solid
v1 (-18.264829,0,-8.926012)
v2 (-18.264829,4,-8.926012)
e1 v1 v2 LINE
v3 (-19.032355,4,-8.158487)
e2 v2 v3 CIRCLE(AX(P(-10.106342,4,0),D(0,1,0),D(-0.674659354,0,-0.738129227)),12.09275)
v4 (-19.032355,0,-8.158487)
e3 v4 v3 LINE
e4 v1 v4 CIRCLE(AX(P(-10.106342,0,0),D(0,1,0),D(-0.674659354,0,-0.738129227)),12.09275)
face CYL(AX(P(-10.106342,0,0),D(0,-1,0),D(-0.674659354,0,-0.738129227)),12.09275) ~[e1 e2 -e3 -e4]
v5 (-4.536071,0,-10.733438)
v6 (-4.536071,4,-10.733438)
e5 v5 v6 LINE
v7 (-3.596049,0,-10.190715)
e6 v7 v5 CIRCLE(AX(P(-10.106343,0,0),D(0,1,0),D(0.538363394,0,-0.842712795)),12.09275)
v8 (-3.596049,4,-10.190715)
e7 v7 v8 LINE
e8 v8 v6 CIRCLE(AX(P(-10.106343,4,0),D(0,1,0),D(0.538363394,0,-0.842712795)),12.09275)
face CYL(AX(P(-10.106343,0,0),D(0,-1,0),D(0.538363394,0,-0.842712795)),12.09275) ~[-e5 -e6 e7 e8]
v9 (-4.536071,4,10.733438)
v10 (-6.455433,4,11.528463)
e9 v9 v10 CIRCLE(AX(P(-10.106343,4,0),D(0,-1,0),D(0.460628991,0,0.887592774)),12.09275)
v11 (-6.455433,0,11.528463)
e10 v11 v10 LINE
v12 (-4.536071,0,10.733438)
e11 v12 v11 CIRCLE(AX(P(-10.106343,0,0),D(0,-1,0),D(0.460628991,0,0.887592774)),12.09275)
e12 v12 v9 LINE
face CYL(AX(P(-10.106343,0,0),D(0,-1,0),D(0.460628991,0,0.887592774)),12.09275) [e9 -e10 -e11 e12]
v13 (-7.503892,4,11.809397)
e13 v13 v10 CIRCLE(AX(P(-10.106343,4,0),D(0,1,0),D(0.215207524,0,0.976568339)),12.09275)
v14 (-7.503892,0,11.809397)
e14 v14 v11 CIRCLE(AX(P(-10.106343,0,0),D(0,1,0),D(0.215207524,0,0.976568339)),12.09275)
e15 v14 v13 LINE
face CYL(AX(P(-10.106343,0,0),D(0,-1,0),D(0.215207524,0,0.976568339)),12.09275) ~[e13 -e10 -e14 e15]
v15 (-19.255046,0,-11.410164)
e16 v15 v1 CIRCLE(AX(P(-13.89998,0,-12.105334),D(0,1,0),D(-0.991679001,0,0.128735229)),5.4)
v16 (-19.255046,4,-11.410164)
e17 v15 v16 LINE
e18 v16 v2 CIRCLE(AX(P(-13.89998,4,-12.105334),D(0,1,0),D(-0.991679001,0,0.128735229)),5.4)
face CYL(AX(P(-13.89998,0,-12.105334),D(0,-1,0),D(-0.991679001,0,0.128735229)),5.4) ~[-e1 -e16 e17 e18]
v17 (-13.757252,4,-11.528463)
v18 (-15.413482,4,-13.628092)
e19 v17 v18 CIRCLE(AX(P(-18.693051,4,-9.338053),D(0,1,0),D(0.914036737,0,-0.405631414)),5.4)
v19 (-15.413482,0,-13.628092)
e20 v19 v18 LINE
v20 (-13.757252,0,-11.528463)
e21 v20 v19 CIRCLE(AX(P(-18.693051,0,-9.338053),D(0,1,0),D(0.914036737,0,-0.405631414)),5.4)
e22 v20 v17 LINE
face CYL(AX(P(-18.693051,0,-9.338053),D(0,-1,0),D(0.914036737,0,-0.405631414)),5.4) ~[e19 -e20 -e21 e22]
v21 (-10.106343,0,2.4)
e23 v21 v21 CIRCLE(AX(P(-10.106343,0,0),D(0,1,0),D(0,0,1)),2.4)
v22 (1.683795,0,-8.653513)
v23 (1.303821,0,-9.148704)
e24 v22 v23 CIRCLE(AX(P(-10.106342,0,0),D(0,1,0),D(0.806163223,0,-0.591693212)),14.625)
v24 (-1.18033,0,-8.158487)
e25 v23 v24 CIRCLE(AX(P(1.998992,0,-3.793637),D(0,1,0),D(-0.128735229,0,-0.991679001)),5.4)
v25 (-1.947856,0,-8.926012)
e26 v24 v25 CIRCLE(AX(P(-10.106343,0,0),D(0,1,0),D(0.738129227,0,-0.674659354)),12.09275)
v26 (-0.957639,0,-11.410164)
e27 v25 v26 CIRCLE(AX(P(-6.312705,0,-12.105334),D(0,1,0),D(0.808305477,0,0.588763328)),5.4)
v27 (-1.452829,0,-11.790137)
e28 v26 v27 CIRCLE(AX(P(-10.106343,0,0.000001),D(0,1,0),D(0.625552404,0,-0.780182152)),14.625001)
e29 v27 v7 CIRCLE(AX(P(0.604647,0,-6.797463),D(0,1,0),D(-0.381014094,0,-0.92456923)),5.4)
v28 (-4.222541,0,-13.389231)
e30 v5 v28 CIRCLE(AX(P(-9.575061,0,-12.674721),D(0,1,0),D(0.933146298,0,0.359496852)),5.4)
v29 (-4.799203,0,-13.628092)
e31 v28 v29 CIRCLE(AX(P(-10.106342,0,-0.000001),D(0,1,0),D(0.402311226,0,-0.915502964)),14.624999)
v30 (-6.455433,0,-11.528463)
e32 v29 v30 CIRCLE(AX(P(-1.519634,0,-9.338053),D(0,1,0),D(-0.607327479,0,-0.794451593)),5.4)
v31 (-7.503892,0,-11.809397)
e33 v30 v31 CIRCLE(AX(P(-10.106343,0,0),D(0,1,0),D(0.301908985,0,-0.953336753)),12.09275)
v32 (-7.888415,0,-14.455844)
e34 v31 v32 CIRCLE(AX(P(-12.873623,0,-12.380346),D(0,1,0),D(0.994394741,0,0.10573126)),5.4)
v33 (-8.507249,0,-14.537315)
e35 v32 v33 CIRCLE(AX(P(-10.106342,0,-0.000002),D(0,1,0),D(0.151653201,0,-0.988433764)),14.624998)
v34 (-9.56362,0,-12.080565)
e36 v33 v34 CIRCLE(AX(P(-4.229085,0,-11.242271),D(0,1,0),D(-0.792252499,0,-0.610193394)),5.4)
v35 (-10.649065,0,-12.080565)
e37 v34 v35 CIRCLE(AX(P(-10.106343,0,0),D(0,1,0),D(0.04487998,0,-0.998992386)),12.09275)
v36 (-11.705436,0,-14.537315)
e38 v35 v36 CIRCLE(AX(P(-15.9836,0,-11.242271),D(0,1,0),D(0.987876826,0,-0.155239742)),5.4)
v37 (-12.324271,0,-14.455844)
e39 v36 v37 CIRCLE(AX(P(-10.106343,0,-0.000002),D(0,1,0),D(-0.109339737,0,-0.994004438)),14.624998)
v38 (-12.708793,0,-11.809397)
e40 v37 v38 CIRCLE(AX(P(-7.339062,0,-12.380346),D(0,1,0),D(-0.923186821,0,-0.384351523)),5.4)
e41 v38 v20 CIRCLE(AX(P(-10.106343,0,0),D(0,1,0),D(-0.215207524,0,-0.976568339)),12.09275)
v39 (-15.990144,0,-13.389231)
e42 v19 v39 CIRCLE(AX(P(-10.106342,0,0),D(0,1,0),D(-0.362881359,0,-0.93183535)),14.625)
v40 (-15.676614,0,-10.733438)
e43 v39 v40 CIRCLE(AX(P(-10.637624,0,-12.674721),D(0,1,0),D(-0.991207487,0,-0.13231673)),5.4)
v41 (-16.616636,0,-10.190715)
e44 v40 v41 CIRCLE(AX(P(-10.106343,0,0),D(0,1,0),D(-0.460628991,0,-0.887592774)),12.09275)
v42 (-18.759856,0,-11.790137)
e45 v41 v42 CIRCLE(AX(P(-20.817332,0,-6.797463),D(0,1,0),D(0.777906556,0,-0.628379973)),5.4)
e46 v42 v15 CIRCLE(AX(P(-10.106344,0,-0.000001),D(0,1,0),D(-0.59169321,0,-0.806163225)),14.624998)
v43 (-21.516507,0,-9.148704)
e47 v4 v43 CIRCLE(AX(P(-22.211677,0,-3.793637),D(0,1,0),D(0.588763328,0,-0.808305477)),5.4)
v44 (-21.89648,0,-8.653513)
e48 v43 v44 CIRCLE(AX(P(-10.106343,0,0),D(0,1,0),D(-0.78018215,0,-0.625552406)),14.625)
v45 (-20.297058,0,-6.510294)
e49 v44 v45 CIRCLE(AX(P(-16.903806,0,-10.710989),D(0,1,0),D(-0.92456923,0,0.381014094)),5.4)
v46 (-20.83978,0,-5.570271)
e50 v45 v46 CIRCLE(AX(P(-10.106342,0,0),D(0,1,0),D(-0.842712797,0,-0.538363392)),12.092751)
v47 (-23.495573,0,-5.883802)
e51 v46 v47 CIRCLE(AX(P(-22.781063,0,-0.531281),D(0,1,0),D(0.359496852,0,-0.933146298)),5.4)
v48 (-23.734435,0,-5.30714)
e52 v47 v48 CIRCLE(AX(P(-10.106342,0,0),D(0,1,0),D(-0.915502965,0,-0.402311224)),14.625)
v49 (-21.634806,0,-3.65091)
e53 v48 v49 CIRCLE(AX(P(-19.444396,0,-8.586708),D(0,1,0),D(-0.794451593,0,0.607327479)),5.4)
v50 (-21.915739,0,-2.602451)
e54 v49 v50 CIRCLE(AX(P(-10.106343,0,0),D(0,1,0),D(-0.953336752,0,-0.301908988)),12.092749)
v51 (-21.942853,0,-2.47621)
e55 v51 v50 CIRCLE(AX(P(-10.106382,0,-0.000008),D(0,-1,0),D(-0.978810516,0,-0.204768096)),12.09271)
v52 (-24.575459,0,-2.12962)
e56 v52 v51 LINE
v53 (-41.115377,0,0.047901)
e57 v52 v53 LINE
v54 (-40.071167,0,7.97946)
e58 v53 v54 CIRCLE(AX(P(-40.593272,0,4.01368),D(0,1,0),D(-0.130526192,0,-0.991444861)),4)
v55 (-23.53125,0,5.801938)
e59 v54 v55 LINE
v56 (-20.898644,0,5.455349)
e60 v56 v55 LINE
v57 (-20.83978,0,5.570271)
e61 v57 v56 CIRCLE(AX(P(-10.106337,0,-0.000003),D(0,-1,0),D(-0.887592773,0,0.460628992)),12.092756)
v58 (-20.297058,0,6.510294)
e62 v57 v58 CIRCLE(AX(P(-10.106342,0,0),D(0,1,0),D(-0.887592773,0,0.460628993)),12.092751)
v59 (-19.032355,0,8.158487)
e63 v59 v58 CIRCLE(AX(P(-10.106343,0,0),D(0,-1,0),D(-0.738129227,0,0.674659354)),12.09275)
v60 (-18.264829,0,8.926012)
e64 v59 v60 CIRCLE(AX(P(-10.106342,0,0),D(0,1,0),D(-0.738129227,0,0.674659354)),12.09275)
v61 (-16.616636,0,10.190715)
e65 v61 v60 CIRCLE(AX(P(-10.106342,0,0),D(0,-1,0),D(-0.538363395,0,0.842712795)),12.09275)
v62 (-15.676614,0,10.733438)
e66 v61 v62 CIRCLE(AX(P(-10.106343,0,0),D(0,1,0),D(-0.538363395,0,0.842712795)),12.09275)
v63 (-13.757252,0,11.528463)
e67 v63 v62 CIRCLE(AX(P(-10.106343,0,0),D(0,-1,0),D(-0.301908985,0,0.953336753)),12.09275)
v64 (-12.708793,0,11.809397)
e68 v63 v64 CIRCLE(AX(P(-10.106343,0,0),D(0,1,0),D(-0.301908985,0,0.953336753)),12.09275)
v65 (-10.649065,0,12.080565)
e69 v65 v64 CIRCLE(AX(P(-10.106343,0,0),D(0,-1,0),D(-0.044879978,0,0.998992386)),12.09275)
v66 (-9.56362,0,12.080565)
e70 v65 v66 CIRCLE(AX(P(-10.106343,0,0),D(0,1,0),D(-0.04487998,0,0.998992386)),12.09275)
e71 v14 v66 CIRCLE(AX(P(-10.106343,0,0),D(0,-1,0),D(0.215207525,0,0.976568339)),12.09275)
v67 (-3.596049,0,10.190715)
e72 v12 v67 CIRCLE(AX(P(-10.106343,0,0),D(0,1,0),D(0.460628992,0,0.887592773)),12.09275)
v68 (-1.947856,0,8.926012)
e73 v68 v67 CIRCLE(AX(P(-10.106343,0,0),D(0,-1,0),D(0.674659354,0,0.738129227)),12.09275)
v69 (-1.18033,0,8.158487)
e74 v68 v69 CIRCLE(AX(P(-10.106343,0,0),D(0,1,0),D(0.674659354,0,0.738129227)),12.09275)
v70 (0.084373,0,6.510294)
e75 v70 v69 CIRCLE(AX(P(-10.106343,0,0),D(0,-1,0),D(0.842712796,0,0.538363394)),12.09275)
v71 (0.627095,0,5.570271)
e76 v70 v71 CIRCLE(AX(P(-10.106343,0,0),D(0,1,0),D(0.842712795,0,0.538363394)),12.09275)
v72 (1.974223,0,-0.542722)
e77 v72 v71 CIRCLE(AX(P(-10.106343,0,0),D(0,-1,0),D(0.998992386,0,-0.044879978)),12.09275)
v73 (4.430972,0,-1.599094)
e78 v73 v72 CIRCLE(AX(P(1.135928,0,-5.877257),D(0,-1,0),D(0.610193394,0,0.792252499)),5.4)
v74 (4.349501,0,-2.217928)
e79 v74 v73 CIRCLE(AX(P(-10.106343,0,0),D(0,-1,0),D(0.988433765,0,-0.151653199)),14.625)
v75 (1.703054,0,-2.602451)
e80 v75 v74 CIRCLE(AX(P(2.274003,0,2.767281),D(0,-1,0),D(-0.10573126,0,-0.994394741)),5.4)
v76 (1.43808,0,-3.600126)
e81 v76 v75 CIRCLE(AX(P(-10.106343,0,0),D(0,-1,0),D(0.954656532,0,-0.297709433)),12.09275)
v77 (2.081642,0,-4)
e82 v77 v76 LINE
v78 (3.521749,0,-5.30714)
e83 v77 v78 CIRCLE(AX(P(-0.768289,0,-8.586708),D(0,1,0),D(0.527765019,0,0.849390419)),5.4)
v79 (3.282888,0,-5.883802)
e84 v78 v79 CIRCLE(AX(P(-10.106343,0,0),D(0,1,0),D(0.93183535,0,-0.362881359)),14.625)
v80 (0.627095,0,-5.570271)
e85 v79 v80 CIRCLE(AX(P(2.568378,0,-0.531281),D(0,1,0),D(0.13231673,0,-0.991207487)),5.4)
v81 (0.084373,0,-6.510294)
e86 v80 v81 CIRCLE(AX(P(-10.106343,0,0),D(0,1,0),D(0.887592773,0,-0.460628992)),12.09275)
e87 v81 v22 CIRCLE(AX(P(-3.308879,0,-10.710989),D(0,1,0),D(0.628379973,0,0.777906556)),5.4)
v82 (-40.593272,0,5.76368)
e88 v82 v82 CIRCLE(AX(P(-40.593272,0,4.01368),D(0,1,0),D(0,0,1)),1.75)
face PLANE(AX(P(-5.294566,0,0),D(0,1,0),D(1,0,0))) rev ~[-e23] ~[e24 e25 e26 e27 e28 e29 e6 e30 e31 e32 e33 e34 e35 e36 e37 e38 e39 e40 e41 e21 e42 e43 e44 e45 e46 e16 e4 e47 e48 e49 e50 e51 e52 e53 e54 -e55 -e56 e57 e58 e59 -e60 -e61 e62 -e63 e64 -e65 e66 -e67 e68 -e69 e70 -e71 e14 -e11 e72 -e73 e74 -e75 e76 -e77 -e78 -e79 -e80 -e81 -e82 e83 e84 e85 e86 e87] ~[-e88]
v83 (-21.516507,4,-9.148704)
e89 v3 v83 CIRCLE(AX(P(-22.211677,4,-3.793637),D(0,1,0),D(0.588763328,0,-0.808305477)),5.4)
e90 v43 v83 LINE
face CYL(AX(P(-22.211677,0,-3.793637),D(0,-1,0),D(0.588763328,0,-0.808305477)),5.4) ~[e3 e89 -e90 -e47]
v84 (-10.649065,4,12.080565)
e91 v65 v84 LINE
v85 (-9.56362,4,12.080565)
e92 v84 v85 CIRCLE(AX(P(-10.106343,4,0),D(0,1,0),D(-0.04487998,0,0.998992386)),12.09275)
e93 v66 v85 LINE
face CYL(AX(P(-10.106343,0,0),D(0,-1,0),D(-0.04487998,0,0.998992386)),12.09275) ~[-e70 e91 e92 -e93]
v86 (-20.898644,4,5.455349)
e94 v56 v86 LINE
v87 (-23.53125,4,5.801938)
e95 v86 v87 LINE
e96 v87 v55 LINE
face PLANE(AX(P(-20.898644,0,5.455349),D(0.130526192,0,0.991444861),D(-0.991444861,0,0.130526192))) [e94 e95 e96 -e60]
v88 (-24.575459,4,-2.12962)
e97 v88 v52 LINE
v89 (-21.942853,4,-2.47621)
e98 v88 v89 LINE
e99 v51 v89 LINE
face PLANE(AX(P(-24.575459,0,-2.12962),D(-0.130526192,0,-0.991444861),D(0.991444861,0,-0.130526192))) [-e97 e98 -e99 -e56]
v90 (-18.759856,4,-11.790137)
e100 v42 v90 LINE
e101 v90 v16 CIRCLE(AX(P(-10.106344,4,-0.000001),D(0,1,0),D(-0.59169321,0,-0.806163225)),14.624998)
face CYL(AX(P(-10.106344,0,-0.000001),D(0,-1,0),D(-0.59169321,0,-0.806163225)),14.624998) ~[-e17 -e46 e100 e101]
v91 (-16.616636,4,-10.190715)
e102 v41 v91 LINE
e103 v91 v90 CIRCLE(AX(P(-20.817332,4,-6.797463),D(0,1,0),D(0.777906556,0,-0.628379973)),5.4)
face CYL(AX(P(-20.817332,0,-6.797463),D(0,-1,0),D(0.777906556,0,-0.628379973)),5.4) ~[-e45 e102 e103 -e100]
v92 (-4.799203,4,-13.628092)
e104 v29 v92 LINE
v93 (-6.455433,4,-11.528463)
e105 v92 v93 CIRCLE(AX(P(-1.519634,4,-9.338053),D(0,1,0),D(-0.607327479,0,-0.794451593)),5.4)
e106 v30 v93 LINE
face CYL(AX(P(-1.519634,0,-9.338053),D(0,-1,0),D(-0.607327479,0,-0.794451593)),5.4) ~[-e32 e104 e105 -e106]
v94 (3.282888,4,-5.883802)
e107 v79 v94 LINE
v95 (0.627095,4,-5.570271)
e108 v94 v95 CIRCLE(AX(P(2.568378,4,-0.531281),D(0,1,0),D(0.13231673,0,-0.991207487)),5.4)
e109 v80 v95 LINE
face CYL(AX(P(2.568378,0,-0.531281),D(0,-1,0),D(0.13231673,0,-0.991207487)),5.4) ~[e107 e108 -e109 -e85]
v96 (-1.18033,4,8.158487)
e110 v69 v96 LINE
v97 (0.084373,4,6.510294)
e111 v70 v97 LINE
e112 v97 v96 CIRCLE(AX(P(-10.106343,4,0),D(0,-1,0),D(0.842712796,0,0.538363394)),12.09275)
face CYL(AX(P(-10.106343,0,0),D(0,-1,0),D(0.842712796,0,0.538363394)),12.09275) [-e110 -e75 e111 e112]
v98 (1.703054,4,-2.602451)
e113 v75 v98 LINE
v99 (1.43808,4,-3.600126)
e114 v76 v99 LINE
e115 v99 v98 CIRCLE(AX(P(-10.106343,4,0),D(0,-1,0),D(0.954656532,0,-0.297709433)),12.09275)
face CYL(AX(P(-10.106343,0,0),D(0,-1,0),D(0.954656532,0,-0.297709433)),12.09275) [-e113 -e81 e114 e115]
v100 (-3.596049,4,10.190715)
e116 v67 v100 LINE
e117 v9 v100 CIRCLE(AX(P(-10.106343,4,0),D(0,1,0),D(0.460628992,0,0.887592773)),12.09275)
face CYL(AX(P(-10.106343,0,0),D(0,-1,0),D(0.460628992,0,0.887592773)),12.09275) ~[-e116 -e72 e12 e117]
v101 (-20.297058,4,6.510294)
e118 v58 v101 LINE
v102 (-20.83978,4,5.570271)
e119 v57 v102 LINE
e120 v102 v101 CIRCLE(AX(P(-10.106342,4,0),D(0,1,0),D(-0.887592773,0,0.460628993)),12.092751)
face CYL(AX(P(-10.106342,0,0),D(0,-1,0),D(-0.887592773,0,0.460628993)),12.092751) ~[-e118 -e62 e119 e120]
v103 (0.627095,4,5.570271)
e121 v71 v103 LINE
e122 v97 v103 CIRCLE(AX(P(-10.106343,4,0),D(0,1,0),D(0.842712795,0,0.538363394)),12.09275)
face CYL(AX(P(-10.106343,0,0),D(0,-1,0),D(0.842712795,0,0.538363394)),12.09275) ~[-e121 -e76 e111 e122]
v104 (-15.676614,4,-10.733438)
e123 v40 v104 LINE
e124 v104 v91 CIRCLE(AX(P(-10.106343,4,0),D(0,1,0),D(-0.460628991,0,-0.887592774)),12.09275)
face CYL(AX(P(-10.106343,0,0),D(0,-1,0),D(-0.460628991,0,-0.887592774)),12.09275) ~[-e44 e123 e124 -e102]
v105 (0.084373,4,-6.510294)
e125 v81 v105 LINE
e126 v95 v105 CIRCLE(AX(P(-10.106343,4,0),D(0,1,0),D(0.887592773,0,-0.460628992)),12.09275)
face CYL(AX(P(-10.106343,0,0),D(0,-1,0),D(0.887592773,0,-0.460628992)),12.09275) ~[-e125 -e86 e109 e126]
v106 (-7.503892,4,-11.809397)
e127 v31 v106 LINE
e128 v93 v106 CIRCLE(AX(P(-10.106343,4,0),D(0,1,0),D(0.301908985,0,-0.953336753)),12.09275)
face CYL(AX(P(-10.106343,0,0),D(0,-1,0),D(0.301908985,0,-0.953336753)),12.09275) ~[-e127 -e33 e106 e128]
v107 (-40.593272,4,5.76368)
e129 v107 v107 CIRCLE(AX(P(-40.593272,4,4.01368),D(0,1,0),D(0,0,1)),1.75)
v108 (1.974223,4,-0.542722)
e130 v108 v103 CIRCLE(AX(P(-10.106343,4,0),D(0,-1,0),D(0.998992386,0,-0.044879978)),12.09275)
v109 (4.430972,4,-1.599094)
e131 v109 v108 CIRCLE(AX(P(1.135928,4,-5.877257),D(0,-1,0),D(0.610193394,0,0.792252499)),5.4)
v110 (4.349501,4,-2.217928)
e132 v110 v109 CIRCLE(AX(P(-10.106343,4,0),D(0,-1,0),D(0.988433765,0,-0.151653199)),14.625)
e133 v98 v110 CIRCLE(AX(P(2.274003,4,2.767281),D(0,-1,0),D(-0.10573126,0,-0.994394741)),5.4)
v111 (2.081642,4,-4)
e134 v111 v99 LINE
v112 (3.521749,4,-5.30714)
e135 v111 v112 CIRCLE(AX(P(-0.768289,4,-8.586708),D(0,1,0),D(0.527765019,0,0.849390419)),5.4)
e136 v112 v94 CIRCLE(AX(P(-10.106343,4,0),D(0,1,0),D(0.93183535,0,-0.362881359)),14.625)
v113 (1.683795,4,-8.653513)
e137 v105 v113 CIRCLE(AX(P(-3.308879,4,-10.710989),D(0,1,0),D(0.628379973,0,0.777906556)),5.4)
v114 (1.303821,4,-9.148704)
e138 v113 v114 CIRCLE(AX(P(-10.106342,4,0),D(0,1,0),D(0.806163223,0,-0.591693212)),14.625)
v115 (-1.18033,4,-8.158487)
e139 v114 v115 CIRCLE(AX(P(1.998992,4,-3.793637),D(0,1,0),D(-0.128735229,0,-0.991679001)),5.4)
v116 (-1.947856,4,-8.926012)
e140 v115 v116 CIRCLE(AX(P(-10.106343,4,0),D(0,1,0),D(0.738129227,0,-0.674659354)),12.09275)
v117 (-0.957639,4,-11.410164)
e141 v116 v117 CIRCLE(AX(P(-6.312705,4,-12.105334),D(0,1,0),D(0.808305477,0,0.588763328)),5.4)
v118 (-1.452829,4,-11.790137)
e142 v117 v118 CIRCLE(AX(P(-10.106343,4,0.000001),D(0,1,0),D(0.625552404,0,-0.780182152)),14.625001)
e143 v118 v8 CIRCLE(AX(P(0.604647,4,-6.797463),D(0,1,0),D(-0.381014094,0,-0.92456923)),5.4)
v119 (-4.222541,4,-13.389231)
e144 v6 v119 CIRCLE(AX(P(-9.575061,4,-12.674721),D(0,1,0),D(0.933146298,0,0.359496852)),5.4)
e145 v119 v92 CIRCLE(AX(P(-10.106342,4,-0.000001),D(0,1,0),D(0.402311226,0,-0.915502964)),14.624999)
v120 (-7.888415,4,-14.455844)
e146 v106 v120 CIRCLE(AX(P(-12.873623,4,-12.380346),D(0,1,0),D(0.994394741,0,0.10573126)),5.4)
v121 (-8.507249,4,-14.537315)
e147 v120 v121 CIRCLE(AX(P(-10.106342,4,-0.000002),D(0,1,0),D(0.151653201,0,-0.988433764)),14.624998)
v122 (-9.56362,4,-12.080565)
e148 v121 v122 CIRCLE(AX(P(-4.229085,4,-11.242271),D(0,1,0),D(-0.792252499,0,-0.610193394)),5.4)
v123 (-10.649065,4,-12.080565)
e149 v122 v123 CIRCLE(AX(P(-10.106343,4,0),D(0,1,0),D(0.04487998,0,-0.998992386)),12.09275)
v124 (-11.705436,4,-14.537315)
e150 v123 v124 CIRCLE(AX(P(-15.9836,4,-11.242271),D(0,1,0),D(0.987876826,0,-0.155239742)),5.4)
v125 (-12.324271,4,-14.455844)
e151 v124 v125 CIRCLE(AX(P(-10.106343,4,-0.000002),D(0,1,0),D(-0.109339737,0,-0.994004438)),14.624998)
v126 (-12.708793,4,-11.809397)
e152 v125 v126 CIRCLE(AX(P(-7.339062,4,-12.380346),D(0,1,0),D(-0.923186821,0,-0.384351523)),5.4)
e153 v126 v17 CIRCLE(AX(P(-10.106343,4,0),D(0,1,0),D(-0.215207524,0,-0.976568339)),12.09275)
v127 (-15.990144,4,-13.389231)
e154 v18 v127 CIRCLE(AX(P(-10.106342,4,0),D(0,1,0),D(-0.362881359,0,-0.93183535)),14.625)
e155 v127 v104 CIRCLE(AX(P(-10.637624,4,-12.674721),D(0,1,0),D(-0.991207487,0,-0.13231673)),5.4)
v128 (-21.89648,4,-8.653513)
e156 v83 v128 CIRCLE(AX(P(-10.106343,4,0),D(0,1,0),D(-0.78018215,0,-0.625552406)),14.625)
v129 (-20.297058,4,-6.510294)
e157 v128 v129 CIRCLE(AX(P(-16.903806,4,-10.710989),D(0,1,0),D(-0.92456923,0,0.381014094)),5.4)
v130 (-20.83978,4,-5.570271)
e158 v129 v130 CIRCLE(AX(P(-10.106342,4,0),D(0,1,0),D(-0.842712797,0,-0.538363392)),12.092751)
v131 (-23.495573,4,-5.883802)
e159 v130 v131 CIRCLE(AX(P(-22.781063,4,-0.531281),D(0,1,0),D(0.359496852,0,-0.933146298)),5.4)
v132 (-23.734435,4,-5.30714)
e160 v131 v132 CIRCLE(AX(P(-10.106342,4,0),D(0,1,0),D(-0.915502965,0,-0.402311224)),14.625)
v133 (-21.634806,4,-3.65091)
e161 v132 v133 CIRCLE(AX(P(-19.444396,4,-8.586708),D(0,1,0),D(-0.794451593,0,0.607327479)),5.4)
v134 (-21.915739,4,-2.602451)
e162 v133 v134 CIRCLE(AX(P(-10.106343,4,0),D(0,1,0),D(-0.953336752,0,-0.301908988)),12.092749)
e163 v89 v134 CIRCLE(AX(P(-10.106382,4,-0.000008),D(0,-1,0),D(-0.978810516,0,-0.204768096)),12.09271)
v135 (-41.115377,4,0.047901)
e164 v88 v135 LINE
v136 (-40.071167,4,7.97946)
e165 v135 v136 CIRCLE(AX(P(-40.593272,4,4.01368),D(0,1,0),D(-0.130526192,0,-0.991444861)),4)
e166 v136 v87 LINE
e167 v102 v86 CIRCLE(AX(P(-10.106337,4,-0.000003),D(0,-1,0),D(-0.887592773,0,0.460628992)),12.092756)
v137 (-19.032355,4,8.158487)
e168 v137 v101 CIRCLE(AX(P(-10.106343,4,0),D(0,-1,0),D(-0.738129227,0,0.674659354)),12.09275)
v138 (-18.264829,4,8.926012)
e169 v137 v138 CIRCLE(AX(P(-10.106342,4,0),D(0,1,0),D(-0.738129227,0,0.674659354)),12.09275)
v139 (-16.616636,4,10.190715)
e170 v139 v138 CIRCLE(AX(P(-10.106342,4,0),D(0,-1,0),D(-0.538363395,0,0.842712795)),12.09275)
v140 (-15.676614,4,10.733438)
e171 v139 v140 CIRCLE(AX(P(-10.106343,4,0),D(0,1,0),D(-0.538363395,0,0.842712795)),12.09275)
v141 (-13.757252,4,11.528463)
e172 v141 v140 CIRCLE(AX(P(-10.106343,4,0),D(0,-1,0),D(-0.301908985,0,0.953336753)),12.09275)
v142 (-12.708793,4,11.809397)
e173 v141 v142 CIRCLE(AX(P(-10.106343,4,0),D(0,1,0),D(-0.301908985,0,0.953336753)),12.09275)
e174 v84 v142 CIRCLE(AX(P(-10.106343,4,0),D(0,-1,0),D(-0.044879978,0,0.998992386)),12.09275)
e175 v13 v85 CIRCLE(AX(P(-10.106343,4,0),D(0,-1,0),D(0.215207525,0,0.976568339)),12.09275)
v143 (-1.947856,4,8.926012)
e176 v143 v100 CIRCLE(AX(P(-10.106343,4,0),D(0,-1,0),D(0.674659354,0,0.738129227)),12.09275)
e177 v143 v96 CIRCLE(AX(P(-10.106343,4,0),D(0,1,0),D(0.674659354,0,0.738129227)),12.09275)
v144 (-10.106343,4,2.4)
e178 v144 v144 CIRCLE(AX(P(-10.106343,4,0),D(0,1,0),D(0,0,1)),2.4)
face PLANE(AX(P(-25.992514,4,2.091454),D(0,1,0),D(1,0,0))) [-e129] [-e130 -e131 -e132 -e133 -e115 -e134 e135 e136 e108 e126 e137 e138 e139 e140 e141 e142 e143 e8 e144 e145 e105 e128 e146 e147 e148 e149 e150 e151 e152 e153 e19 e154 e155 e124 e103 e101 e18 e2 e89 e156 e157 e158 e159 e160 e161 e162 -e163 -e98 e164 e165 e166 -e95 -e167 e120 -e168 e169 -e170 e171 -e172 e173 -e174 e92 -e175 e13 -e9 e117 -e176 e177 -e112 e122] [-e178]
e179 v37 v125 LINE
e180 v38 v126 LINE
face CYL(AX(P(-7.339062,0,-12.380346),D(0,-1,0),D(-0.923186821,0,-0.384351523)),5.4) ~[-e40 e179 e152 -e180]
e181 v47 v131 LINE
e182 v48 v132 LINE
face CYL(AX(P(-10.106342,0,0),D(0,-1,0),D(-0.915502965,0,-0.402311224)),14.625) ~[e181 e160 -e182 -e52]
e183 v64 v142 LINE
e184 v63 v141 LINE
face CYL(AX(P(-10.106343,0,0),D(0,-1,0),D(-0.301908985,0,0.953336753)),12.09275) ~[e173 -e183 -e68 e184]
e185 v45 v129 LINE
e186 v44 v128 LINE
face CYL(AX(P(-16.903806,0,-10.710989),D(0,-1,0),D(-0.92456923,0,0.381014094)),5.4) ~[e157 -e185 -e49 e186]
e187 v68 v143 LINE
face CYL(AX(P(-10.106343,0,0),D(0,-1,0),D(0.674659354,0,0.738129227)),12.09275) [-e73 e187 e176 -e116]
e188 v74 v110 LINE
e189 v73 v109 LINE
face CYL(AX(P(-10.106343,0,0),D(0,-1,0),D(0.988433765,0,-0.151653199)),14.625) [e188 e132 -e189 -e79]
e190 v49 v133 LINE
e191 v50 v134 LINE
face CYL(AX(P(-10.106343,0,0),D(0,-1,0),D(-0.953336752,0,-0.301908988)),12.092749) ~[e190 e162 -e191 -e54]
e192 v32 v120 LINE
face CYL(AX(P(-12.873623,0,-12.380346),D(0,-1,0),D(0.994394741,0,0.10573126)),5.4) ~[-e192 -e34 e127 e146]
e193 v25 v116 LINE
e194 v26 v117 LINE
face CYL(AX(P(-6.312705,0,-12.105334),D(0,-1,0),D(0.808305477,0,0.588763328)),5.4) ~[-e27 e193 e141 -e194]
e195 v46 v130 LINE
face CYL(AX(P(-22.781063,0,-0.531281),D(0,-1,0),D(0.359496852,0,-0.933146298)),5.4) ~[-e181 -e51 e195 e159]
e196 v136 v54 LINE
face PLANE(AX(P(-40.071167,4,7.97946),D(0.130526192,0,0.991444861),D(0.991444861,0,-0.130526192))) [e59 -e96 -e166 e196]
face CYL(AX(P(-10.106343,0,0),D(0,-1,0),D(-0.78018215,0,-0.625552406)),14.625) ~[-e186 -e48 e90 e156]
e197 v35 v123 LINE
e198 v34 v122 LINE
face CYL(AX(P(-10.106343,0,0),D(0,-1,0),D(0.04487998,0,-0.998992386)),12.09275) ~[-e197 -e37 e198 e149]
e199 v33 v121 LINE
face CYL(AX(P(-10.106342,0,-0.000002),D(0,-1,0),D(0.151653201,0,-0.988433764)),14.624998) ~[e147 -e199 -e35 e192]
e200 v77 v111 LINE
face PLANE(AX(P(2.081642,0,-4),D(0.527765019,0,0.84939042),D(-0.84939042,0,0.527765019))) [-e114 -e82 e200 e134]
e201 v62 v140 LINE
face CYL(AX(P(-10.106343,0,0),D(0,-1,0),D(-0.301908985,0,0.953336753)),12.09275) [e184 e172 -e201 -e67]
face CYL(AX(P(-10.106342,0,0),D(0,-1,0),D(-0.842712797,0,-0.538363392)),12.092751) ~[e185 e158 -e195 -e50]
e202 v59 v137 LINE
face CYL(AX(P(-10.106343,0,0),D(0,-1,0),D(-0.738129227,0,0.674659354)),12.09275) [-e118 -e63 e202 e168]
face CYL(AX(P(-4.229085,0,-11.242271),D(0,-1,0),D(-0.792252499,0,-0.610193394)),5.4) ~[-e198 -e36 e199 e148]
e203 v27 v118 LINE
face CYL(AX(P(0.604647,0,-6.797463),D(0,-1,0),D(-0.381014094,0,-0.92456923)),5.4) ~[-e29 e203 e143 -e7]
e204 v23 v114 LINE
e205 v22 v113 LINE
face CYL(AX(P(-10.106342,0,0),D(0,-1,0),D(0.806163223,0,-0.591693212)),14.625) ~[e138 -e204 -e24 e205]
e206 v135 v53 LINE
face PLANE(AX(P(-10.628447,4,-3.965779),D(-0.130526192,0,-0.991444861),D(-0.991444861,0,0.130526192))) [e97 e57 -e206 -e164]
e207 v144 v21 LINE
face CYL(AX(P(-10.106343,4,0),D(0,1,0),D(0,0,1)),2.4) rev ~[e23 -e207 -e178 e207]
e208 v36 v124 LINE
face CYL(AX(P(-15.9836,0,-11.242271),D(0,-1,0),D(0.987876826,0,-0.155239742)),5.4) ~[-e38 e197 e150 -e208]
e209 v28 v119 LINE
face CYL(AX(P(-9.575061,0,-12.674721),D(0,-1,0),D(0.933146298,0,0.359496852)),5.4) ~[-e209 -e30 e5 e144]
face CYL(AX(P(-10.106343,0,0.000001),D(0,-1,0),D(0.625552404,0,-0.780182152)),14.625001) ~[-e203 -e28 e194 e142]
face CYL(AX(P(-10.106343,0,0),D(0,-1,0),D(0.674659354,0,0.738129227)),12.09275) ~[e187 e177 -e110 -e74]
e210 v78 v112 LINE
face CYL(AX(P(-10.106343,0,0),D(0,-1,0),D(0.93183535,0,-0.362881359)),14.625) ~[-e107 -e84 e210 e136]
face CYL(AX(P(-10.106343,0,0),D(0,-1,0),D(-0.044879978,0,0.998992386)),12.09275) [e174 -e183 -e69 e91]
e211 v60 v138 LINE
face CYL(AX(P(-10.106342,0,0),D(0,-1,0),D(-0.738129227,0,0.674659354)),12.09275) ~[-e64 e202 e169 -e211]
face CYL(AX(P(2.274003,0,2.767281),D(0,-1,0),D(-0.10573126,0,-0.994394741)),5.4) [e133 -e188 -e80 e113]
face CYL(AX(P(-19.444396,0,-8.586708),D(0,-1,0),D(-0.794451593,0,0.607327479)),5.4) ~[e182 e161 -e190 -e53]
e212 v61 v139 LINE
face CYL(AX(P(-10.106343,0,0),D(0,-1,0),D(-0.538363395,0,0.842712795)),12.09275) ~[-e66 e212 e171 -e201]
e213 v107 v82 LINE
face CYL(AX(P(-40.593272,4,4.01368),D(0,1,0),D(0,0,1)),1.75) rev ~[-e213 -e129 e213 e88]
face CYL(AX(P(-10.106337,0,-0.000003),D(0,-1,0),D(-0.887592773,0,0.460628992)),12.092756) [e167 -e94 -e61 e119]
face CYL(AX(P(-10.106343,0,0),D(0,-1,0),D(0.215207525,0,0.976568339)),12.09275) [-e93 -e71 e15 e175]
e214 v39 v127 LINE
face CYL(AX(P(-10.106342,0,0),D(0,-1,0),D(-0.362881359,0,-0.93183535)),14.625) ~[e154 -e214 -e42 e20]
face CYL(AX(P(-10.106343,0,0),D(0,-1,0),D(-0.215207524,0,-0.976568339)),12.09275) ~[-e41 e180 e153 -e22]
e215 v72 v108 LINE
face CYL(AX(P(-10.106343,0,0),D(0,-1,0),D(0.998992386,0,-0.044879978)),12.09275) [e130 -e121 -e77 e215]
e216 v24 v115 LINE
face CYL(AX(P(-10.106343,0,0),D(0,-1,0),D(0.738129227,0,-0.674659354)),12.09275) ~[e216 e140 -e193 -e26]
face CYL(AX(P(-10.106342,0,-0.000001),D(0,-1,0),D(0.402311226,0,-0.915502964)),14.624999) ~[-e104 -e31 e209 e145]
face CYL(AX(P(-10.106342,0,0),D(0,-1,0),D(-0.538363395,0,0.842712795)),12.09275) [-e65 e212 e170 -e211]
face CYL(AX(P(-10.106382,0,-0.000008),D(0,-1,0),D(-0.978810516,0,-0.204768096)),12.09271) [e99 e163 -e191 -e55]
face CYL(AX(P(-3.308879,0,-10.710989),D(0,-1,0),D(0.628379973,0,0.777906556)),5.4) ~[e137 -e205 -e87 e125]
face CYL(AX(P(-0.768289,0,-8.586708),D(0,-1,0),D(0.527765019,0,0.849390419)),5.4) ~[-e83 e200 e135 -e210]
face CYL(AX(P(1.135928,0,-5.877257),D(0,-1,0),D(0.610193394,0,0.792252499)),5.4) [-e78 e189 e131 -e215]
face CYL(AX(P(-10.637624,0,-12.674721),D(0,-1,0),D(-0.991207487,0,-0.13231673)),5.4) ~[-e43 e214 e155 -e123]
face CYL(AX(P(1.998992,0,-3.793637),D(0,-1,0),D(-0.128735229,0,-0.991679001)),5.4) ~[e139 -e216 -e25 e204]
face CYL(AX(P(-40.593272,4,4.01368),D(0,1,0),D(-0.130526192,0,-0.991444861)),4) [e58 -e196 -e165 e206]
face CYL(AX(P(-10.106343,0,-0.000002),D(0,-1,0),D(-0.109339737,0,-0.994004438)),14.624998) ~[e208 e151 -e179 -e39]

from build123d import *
from build123d.topology import SkipClean

# Parameters (mm, degrees)
SKETCH1_R           = 1.5
BOSS_EXTRUDE1_DEPTH = 4
SKETCH3_R           = 1.75
BOSS_EXTRUDE2_DEPTH = 4
CUT_EXTRUDE1_START  = -4
CUT_EXTRUDE1_DEPTH  = 4
CUT_EXTRUDE2_REACH  = 49.073
SKETCH5_R           = 2.4


with BuildPart() as part:
    # Sketch1 → Boss-Extrude1 (new body)
    with BuildSketch(Plane(origin=(0, 0, 0), x_dir=(1, 0, 0), z_dir=(0, 1, 0))):
        with BuildLine():
            Line((20.643657446, 4), (2.081641936, 4))
            ThreePointArc((2.081641936, 4), (2.861028333, 4.588201733), (3.521749436, 5.30713988))
            ThreePointArc((3.521749436, 5.30713988), (3.405395609, 5.596745198), (3.282888305, 5.883801663))
            ThreePointArc((3.282888305, 5.883801663), (1.93527598, 5.894040025), (0.627094961, 5.57027124))
            ThreePointArc((0.627094961, 5.57027124), (0.366286148, 6.046375), (0.084372603, 6.510293938))
            ThreePointArc((0.084372603, 6.510293938), (1.018855105, 7.48132754), (1.683794586, 8.65351323))
            ThreePointArc((1.683794586, 8.65351323), (1.496450048, 8.903135899), (1.303821399, 9.148703928))
            ThreePointArc((1.303821399, 9.148703928), (-0.000522033, 8.809805691), (-1.180330337, 8.158486898))
            ThreePointArc((-1.180330337, 8.158486898), (-1.555477026, 8.550865528), (-1.947855656, 8.926012217))
            ThreePointArc((-1.947855656, 8.926012217), (-1.296536862, 10.105820521), (-0.957638625, 11.410163953))
            ThreePointArc((-0.957638625, 11.410163953), (-1.203206655, 11.602792602), (-1.452829324, 11.79013714))
            ThreePointArc((-1.452829324, 11.79013714), (-2.625015014, 11.125197659), (-3.596048616, 10.190715157))
            ThreePointArc((-3.596048616, 10.190715157), (-4.059967554, 10.472628702), (-4.536071314, 10.733437515))
            ThreePointArc((-4.536071314, 10.733437515), (-4.212302529, 12.041618533), (-4.222540891, 13.389230859))
            ThreePointArc((-4.222540891, 13.389230859), (-4.509597355, 13.511738163), (-4.799202674, 13.62809199))
            ThreePointArc((-4.799202674, 13.62809199), (-5.759348103, 12.682425791), (-6.455432668, 11.528463019))
            ThreePointArc((-6.455432668, 11.528463019), (-6.976508546, 11.680699536), (-7.503891752, 11.809396783))
            ThreePointArc((-7.503891752, 11.809396783), (-7.529737283, 13.156800143), (-7.888414517, 14.455843809))
            ThreePointArc((-7.888414517, 14.455843809), (-8.197396993, 14.499881098), (-8.507248835, 14.537314892))
            ThreePointArc((-8.507248835, 14.537314892), (-9.18992168, 13.375367565), (-9.563620196, 12.080565177))
            ThreePointArc((-9.563620196, 12.080565177), (-10.106342554, 12.09275), (-10.649064912, 12.080565177))
            ThreePointArc((-10.649064912, 12.080565177), (-11.022763428, 13.375367565), (-11.705436272, 14.537314892))
            ThreePointArc((-11.705436272, 14.537314892), (-12.015288115, 14.499881098), (-12.324270591, 14.455843809))
            ThreePointArc((-12.324270591, 14.455843809), (-12.682947825, 13.156800143), (-12.708793355, 11.809396783))
            ThreePointArc((-12.708793355, 11.809396783), (-13.236176561, 11.680699536), (-13.757252439, 11.528463019))
            ThreePointArc((-13.757252439, 11.528463019), (-14.453337005, 12.682425791), (-15.413482434, 13.62809199))
            ThreePointArc((-15.413482434, 13.62809199), (-15.703087752, 13.511738163), (-15.990144217, 13.389230859))
            ThreePointArc((-15.990144217, 13.389230859), (-16.000382579, 12.041618533), (-15.676613793, 10.733437515))
            ThreePointArc((-15.676613793, 10.733437515), (-16.152717554, 10.472628702), (-16.616636492, 10.190715157))
            ThreePointArc((-16.616636492, 10.190715157), (-17.587670094, 11.125197659), (-18.759855783, 11.79013714))
            ThreePointArc((-18.759855783, 11.79013714), (-19.009478453, 11.602792602), (-19.255046482, 11.410163953))
            ThreePointArc((-19.255046482, 11.410163953), (-18.916148245, 10.105820521), (-18.264829452, 8.926012217))
            ThreePointArc((-18.264829452, 8.926012217), (-18.657208082, 8.550865528), (-19.032354771, 8.158486898))
            ThreePointArc((-19.032354771, 8.158486898), (-20.212163074, 8.809805691), (-21.516506507, 9.148703928))
            ThreePointArc((-21.516506507, 9.148703928), (-21.709135156, 8.903135899), (-21.896479694, 8.65351323))
            ThreePointArc((-21.896479694, 8.65351323), (-21.231540213, 7.48132754), (-20.297057711, 6.510293938))
            ThreePointArc((-20.297057711, 6.510293938), (-20.578971255, 6.046375), (-20.839780068, 5.57027124))
            ThreePointArc((-20.839780068, 5.57027124), (-22.147961087, 5.894040025), (-23.495573413, 5.883801663))
            ThreePointArc((-23.495573413, 5.883801663), (-23.618080717, 5.596745198), (-23.734434544, 5.30713988))
            ThreePointArc((-23.734434544, 5.30713988), (-22.788768345, 4.346994451), (-21.634805572, 3.650909885))
            ThreePointArc((-21.634805572, 3.650909885), (-21.78704209, 3.129834008), (-21.915739337, 2.602450802))
            ThreePointArc((-21.915739337, 2.602450802), (-23.263142697, 2.576605271), (-24.562186363, 2.217928037))
            ThreePointArc((-24.562186363, 2.217928037), (-24.606223651, 1.908945561), (-24.643657446, 1.599093719))
            ThreePointArc((-24.643657446, 1.599093719), (-23.481710119, 0.916420874), (-22.186907731, 0.542722358))
            ThreePointArc((-22.186907731, 0.542722358), (-22.199092554, 0), (-22.186907731, -0.542722358))
            ThreePointArc((-22.186907731, -0.542722358), (-23.481710119, -0.916420874), (-24.643657446, -1.599093719))
            ThreePointArc((-24.643657446, -1.599093719), (-24.606223651, -1.908945561), (-24.562186363, -2.217928037))
            ThreePointArc((-24.562186363, -2.217928037), (-23.263142697, -2.576605271), (-21.915739337, -2.602450802))
            ThreePointArc((-21.915739337, -2.602450802), (-21.78704209, -3.129834008), (-21.634805572, -3.650909885))
            ThreePointArc((-21.634805572, -3.650909885), (-22.788768345, -4.346994451), (-23.734434544, -5.30713988))
            ThreePointArc((-23.734434544, -5.30713988), (-23.618080717, -5.596745198), (-23.495573413, -5.883801663))
            ThreePointArc((-23.495573413, -5.883801663), (-22.147961087, -5.894040025), (-20.839780068, -5.57027124))
            ThreePointArc((-20.839780068, -5.57027124), (-20.578971255, -6.046375), (-20.297057711, -6.510293938))
            ThreePointArc((-20.297057711, -6.510293938), (-21.231540213, -7.48132754), (-21.896479694, -8.65351323))
            ThreePointArc((-21.896479694, -8.65351323), (-21.709135156, -8.903135899), (-21.516506507, -9.148703928))
            ThreePointArc((-21.516506507, -9.148703928), (-20.212163074, -8.809805691), (-19.032354771, -8.158486898))
            ThreePointArc((-19.032354771, -8.158486898), (-18.657208082, -8.550865528), (-18.264829452, -8.926012217))
            ThreePointArc((-18.264829452, -8.926012217), (-18.916148245, -10.105820521), (-19.255046482, -11.410163953))
            ThreePointArc((-19.255046482, -11.410163953), (-19.009478453, -11.602792602), (-18.759855783, -11.79013714))
            ThreePointArc((-18.759855783, -11.79013714), (-17.587670094, -11.125197659), (-16.616636492, -10.190715157))
            ThreePointArc((-16.616636492, -10.190715157), (-16.152717554, -10.472628702), (-15.676613793, -10.733437515))
            ThreePointArc((-15.676613793, -10.733437515), (-16.000382579, -12.041618533), (-15.990144217, -13.389230859))
            ThreePointArc((-15.990144217, -13.389230859), (-15.703087752, -13.511738163), (-15.413482434, -13.62809199))
            ThreePointArc((-15.413482434, -13.62809199), (-14.453337005, -12.682425791), (-13.757252439, -11.528463019))
            ThreePointArc((-13.757252439, -11.528463019), (-13.236176561, -11.680699536), (-12.708793355, -11.809396783))
            ThreePointArc((-12.708793355, -11.809396783), (-12.682947825, -13.156800143), (-12.324270591, -14.455843809))
            ThreePointArc((-12.324270591, -14.455843809), (-12.015288115, -14.499881098), (-11.705436272, -14.537314892))
            ThreePointArc((-11.705436272, -14.537314892), (-11.022763428, -13.375367565), (-10.649064912, -12.080565177))
            ThreePointArc((-10.649064912, -12.080565177), (-10.106342554, -12.09275), (-9.563620196, -12.080565177))
            ThreePointArc((-9.563620196, -12.080565177), (-9.18992168, -13.375367565), (-8.507248835, -14.537314892))
            ThreePointArc((-8.507248835, -14.537314892), (-8.197396993, -14.499881098), (-7.888414517, -14.455843809))
            ThreePointArc((-7.888414517, -14.455843809), (-7.529737283, -13.156800143), (-7.503891752, -11.809396783))
            ThreePointArc((-7.503891752, -11.809396783), (-6.976508546, -11.680699536), (-6.455432668, -11.528463019))
            ThreePointArc((-6.455432668, -11.528463019), (-5.759348103, -12.682425791), (-4.799202674, -13.62809199))
            ThreePointArc((-4.799202674, -13.62809199), (-4.509597355, -13.511738163), (-4.222540891, -13.389230859))
            ThreePointArc((-4.222540891, -13.389230859), (-4.212302529, -12.041618533), (-4.536071314, -10.733437515))
            ThreePointArc((-4.536071314, -10.733437515), (-4.059967554, -10.472628702), (-3.596048616, -10.190715157))
            ThreePointArc((-3.596048616, -10.190715157), (-2.625015014, -11.125197659), (-1.452829324, -11.79013714))
            ThreePointArc((-1.452829324, -11.79013714), (-1.203206655, -11.602792602), (-0.957638625, -11.410163953))
            ThreePointArc((-0.957638625, -11.410163953), (-1.296536862, -10.105820521), (-1.947855656, -8.926012217))
            ThreePointArc((-1.947855656, -8.926012217), (-1.555477026, -8.550865528), (-1.180330337, -8.158486898))
            ThreePointArc((-1.180330337, -8.158486898), (-0.000522033, -8.809805691), (1.303821399, -9.148703928))
            ThreePointArc((1.303821399, -9.148703928), (1.496450048, -8.903135899), (1.683794586, -8.65351323))
            ThreePointArc((1.683794586, -8.65351323), (1.018855105, -7.48132754), (0.084372603, -6.510293938))
            ThreePointArc((0.084372603, -6.510293938), (0.366286148, -6.046375), (0.627094961, -5.57027124))
            ThreePointArc((0.627094961, -5.57027124), (1.93527598, -5.894040025), (3.282888305, -5.883801663))
            ThreePointArc((3.282888305, -5.883801663), (3.405395609, -5.596745198), (3.521749436, -5.30713988))
            ThreePointArc((3.521749436, -5.30713988), (2.861028333, -4.588201733), (2.081641936, -4))
            Line((2.081641936, -4), (20.643657446, -4))
            ThreePointArc((20.643657446, -4), (24.643657446, 0), (20.643657446, 4))
        make_face()
        with Locations(Location((-10.106342554, 0, 0), (0, 0, 270))):
            Circle(SKETCH1_R, mode=Mode.SUBTRACT)
        with Locations(Location((20.643657446, 0, 0), (0, 0, 270))):
            Circle(SKETCH1_R, mode=Mode.SUBTRACT)
    extrude(amount=BOSS_EXTRUDE1_DEPTH)

    # Sketch3 → Boss-Extrude2 (add)
    with BuildSketch(Plane(origin=(0, 4, 0), x_dir=(1, 0, 0), z_dir=(0, 1, 0))):
        with BuildLine():
            ThreePointArc((-9.584237785, -3.965779445), (-14.072121999, -0.522104769), (-10.628447323, 3.965779445))
            Line((-10.628447323, 3.965779445), (-41.11537681, -0.047900965))
            ThreePointArc((-41.11537681, -0.047900965), (-44.559051487, -4.53578518), (-40.071167272, -7.979459856))
            Line((-40.071167272, -7.979459856), (-9.584237785, -3.965779445))
        make_face()
        with Locations(Location((-40.593272041, -4.013680411, 0), (0, 0, 270))):
            Circle(SKETCH3_R, mode=Mode.SUBTRACT)
    extrude(amount=-BOSS_EXTRUDE2_DEPTH)

    # Sketch4 → Cut-Extrude1 (cut)
    with SkipClean():  # the faces are left unmerged after this step: merging them gives an invalid solid
        with BuildSketch(Plane(origin=(0, 4, 0), x_dir=(1, 0, 0), z_dir=(0, 1, 0)).offset(CUT_EXTRUDE1_START)):
            with BuildLine():
                ThreePointArc((20.643657446, -4), (24.643657446, 0), (20.643657446, 4))
                Line((20.643657446, 4), (2.081641936, 4))
                Line((2.081641936, 4), (1.43808022, 3.600125745))
                ThreePointArc((1.43808022, 3.600125745), (1.581217534, 3.104116905), (1.70305423, 2.602450802))
                ThreePointArc((1.70305423, 2.602450802), (3.050457589, 2.576605271), (4.349501255, 2.217928037))
                ThreePointArc((4.349501255, 2.217928037), (4.393538544, 1.908945561), (4.430972339, 1.599093719))
                ThreePointArc((4.430972339, 1.599093719), (3.269025011, 0.916420874), (1.974222624, 0.542722358))
                ThreePointArc((1.974222624, 0.542722358), (1.70305423, -2.602450802), (0.627094961, -5.57027124))
                ThreePointArc((0.627094961, -5.57027124), (1.93527598, -5.894040025), (3.282888305, -5.883801663))
                ThreePointArc((3.282888305, -5.883801663), (3.405395609, -5.596745198), (3.521749436, -5.30713988))
                ThreePointArc((3.521749436, -5.30713988), (2.861028333, -4.588201733), (2.081641936, -4))
                Line((2.081641936, -4), (20.643657446, -4))
            make_face()
            with BuildLine():
                ThreePointArc((1.683794586, -8.65351323), (1.018855105, -7.48132754), (0.084372603, -6.510293938))
                ThreePointArc((0.084372603, -6.510293938), (-0.512518948, -7.361599771), (-1.180330337, -8.158486898))
                ThreePointArc((-1.180330337, -8.158486898), (-0.000522033, -8.809805691), (1.303821399, -9.148703928))
                ThreePointArc((1.303821399, -9.148703928), (1.496450048, -8.903135899), (1.683794586, -8.65351323))
            make_face()
            with BuildLine():
                ThreePointArc((-0.957638625, -11.410163953), (-1.296536862, -10.105820521), (-1.947855656, -8.926012217))
                ThreePointArc((-1.947855656, -8.926012217), (-2.744742783, -9.593823606), (-3.596048616, -10.190715157))
                ThreePointArc((-3.596048616, -10.190715157), (-2.625015014, -11.125197659), (-1.452829324, -11.79013714))
                ThreePointArc((-1.452829324, -11.79013714), (-1.203206655, -11.602792602), (-0.957638625, -11.410163953))
            make_face()
            with BuildLine():
                ThreePointArc((-4.222540891, -13.389230859), (-4.212302529, -12.041618533), (-4.536071314, -10.733437515))
                ThreePointArc((-4.536071314, -10.733437515), (-5.478647477, -11.172244217), (-6.455432668, -11.528463019))
                ThreePointArc((-6.455432668, -11.528463019), (-5.759348103, -12.682425791), (-4.799202674, -13.62809199))
                ThreePointArc((-4.799202674, -13.62809199), (-4.509597355, -13.511738163), (-4.222540891, -13.389230859))
            make_face()
            with BuildLine():
                ThreePointArc((-7.888414517, -14.455843809), (-7.529737283, -13.156800143), (-7.503891752, -11.809396783))
                ThreePointArc((-7.503891752, -11.809396783), (-8.527921943, -11.989294847), (-9.563620196, -12.080565177))
                ThreePointArc((-9.563620196, -12.080565177), (-9.18992168, -13.375367565), (-8.507248835, -14.537314892))
                ThreePointArc((-8.507248835, -14.537314892), (-8.197396993, -14.499881098), (-7.888414517, -14.455843809))
            make_face()
            with BuildLine():
                ThreePointArc((-11.705436272, -14.537314892), (-11.022763428, -13.375367565), (-10.649064912, -12.080565177))
                ThreePointArc((-10.649064912, -12.080565177), (-11.684763165, -11.989294847), (-12.708793355, -11.809396783))
                ThreePointArc((-12.708793355, -11.809396783), (-12.682947825, -13.156800143), (-12.324270591, -14.455843809))
                ThreePointArc((-12.324270591, -14.455843809), (-12.015288115, -14.499881098), (-11.705436272, -14.537314892))
            make_face()
            with BuildLine():
                ThreePointArc((-15.413482434, -13.62809199), (-14.453337005, -12.682425791), (-13.757252439, -11.528463019))
                ThreePointArc((-13.757252439, -11.528463019), (-14.734037631, -11.172244217), (-15.676613793, -10.733437515))
                ThreePointArc((-15.676613793, -10.733437515), (-16.000382579, -12.041618533), (-15.990144217, -13.389230859))
                ThreePointArc((-15.990144217, -13.389230859), (-15.703087752, -13.511738163), (-15.413482434, -13.62809199))
            make_face()
            with BuildLine():
                ThreePointArc((-18.759855783, -11.79013714), (-17.587670094, -11.125197659), (-16.616636492, -10.190715157))
                ThreePointArc((-16.616636492, -10.190715157), (-17.467942324, -9.593823606), (-18.264829452, -8.926012217))
                ThreePointArc((-18.264829452, -8.926012217), (-18.916148245, -10.105820521), (-19.255046482, -11.410163953))
                ThreePointArc((-19.255046482, -11.410163953), (-19.009478453, -11.602792602), (-18.759855783, -11.79013714))
            make_face()
            with BuildLine():
                ThreePointArc((-21.516506507, -9.148703928), (-20.212163074, -8.809805691), (-19.032354771, -8.158486898))
                ThreePointArc((-19.032354771, -8.158486898), (-19.70016616, -7.361599771), (-20.297057711, -6.510293938))
                ThreePointArc((-20.297057711, -6.510293938), (-21.231540213, -7.48132754), (-21.896479694, -8.65351323))
                ThreePointArc((-21.896479694, -8.65351323), (-21.709135156, -8.903135899), (-21.516506507, -9.148703928))
            make_face()
            with BuildLine():
                ThreePointArc((-21.942853375, 2.47620963), (-21.92946485, 2.539366405), (-21.915739337, 2.602450802))
                ThreePointArc((-21.915739337, 2.602450802), (-23.263142697, 2.576605271), (-24.562186363, 2.217928037))
                ThreePointArc((-24.562186363, 2.217928037), (-24.56889027, 2.173784387), (-24.575459377, 2.129620475))
                Line((-24.575459377, 2.129620475), (-21.942853375, 2.47620963))
            make_face()
            with BuildLine():
                ThreePointArc((-23.495573413, -5.883801663), (-22.147961087, -5.894040025), (-20.839780068, -5.57027124))
                ThreePointArc((-20.839780068, -5.57027124), (-20.869365339, -5.512888815), (-20.898643838, -5.455349261))
                Line((-20.898643838, -5.455349261), (-23.531249839, -5.801938416))
                ThreePointArc((-23.531249839, -5.801938416), (-23.513474108, -5.842897269), (-23.495573413, -5.883801663))
            make_face()
        extrude(amount=CUT_EXTRUDE1_DEPTH, mode=Mode.SUBTRACT)

    # Sketch5 → Cut-Extrude2 (cut, up to next)
    with BuildSketch(Plane(origin=(0, 4, 0), x_dir=(1, 0, 0), z_dir=(0, 1, 0)), mode=Mode.PRIVATE) as cut_extrude2_sk1:
        with Locations(Location((-10.106342554, 0, 0), (0, 0, 270))):
            Circle(SKETCH5_R)
    cut_extrude2_tool1 = extrude(cut_extrude2_sk1.sketch, amount=-CUT_EXTRUDE2_REACH, mode=Mode.PRIVATE) & part.part
    add(cut_extrude2_tool1.solids().sort_by_distance((-10.106343, 4, 0))[0], mode=Mode.SUBTRACT)


solid = part.part
